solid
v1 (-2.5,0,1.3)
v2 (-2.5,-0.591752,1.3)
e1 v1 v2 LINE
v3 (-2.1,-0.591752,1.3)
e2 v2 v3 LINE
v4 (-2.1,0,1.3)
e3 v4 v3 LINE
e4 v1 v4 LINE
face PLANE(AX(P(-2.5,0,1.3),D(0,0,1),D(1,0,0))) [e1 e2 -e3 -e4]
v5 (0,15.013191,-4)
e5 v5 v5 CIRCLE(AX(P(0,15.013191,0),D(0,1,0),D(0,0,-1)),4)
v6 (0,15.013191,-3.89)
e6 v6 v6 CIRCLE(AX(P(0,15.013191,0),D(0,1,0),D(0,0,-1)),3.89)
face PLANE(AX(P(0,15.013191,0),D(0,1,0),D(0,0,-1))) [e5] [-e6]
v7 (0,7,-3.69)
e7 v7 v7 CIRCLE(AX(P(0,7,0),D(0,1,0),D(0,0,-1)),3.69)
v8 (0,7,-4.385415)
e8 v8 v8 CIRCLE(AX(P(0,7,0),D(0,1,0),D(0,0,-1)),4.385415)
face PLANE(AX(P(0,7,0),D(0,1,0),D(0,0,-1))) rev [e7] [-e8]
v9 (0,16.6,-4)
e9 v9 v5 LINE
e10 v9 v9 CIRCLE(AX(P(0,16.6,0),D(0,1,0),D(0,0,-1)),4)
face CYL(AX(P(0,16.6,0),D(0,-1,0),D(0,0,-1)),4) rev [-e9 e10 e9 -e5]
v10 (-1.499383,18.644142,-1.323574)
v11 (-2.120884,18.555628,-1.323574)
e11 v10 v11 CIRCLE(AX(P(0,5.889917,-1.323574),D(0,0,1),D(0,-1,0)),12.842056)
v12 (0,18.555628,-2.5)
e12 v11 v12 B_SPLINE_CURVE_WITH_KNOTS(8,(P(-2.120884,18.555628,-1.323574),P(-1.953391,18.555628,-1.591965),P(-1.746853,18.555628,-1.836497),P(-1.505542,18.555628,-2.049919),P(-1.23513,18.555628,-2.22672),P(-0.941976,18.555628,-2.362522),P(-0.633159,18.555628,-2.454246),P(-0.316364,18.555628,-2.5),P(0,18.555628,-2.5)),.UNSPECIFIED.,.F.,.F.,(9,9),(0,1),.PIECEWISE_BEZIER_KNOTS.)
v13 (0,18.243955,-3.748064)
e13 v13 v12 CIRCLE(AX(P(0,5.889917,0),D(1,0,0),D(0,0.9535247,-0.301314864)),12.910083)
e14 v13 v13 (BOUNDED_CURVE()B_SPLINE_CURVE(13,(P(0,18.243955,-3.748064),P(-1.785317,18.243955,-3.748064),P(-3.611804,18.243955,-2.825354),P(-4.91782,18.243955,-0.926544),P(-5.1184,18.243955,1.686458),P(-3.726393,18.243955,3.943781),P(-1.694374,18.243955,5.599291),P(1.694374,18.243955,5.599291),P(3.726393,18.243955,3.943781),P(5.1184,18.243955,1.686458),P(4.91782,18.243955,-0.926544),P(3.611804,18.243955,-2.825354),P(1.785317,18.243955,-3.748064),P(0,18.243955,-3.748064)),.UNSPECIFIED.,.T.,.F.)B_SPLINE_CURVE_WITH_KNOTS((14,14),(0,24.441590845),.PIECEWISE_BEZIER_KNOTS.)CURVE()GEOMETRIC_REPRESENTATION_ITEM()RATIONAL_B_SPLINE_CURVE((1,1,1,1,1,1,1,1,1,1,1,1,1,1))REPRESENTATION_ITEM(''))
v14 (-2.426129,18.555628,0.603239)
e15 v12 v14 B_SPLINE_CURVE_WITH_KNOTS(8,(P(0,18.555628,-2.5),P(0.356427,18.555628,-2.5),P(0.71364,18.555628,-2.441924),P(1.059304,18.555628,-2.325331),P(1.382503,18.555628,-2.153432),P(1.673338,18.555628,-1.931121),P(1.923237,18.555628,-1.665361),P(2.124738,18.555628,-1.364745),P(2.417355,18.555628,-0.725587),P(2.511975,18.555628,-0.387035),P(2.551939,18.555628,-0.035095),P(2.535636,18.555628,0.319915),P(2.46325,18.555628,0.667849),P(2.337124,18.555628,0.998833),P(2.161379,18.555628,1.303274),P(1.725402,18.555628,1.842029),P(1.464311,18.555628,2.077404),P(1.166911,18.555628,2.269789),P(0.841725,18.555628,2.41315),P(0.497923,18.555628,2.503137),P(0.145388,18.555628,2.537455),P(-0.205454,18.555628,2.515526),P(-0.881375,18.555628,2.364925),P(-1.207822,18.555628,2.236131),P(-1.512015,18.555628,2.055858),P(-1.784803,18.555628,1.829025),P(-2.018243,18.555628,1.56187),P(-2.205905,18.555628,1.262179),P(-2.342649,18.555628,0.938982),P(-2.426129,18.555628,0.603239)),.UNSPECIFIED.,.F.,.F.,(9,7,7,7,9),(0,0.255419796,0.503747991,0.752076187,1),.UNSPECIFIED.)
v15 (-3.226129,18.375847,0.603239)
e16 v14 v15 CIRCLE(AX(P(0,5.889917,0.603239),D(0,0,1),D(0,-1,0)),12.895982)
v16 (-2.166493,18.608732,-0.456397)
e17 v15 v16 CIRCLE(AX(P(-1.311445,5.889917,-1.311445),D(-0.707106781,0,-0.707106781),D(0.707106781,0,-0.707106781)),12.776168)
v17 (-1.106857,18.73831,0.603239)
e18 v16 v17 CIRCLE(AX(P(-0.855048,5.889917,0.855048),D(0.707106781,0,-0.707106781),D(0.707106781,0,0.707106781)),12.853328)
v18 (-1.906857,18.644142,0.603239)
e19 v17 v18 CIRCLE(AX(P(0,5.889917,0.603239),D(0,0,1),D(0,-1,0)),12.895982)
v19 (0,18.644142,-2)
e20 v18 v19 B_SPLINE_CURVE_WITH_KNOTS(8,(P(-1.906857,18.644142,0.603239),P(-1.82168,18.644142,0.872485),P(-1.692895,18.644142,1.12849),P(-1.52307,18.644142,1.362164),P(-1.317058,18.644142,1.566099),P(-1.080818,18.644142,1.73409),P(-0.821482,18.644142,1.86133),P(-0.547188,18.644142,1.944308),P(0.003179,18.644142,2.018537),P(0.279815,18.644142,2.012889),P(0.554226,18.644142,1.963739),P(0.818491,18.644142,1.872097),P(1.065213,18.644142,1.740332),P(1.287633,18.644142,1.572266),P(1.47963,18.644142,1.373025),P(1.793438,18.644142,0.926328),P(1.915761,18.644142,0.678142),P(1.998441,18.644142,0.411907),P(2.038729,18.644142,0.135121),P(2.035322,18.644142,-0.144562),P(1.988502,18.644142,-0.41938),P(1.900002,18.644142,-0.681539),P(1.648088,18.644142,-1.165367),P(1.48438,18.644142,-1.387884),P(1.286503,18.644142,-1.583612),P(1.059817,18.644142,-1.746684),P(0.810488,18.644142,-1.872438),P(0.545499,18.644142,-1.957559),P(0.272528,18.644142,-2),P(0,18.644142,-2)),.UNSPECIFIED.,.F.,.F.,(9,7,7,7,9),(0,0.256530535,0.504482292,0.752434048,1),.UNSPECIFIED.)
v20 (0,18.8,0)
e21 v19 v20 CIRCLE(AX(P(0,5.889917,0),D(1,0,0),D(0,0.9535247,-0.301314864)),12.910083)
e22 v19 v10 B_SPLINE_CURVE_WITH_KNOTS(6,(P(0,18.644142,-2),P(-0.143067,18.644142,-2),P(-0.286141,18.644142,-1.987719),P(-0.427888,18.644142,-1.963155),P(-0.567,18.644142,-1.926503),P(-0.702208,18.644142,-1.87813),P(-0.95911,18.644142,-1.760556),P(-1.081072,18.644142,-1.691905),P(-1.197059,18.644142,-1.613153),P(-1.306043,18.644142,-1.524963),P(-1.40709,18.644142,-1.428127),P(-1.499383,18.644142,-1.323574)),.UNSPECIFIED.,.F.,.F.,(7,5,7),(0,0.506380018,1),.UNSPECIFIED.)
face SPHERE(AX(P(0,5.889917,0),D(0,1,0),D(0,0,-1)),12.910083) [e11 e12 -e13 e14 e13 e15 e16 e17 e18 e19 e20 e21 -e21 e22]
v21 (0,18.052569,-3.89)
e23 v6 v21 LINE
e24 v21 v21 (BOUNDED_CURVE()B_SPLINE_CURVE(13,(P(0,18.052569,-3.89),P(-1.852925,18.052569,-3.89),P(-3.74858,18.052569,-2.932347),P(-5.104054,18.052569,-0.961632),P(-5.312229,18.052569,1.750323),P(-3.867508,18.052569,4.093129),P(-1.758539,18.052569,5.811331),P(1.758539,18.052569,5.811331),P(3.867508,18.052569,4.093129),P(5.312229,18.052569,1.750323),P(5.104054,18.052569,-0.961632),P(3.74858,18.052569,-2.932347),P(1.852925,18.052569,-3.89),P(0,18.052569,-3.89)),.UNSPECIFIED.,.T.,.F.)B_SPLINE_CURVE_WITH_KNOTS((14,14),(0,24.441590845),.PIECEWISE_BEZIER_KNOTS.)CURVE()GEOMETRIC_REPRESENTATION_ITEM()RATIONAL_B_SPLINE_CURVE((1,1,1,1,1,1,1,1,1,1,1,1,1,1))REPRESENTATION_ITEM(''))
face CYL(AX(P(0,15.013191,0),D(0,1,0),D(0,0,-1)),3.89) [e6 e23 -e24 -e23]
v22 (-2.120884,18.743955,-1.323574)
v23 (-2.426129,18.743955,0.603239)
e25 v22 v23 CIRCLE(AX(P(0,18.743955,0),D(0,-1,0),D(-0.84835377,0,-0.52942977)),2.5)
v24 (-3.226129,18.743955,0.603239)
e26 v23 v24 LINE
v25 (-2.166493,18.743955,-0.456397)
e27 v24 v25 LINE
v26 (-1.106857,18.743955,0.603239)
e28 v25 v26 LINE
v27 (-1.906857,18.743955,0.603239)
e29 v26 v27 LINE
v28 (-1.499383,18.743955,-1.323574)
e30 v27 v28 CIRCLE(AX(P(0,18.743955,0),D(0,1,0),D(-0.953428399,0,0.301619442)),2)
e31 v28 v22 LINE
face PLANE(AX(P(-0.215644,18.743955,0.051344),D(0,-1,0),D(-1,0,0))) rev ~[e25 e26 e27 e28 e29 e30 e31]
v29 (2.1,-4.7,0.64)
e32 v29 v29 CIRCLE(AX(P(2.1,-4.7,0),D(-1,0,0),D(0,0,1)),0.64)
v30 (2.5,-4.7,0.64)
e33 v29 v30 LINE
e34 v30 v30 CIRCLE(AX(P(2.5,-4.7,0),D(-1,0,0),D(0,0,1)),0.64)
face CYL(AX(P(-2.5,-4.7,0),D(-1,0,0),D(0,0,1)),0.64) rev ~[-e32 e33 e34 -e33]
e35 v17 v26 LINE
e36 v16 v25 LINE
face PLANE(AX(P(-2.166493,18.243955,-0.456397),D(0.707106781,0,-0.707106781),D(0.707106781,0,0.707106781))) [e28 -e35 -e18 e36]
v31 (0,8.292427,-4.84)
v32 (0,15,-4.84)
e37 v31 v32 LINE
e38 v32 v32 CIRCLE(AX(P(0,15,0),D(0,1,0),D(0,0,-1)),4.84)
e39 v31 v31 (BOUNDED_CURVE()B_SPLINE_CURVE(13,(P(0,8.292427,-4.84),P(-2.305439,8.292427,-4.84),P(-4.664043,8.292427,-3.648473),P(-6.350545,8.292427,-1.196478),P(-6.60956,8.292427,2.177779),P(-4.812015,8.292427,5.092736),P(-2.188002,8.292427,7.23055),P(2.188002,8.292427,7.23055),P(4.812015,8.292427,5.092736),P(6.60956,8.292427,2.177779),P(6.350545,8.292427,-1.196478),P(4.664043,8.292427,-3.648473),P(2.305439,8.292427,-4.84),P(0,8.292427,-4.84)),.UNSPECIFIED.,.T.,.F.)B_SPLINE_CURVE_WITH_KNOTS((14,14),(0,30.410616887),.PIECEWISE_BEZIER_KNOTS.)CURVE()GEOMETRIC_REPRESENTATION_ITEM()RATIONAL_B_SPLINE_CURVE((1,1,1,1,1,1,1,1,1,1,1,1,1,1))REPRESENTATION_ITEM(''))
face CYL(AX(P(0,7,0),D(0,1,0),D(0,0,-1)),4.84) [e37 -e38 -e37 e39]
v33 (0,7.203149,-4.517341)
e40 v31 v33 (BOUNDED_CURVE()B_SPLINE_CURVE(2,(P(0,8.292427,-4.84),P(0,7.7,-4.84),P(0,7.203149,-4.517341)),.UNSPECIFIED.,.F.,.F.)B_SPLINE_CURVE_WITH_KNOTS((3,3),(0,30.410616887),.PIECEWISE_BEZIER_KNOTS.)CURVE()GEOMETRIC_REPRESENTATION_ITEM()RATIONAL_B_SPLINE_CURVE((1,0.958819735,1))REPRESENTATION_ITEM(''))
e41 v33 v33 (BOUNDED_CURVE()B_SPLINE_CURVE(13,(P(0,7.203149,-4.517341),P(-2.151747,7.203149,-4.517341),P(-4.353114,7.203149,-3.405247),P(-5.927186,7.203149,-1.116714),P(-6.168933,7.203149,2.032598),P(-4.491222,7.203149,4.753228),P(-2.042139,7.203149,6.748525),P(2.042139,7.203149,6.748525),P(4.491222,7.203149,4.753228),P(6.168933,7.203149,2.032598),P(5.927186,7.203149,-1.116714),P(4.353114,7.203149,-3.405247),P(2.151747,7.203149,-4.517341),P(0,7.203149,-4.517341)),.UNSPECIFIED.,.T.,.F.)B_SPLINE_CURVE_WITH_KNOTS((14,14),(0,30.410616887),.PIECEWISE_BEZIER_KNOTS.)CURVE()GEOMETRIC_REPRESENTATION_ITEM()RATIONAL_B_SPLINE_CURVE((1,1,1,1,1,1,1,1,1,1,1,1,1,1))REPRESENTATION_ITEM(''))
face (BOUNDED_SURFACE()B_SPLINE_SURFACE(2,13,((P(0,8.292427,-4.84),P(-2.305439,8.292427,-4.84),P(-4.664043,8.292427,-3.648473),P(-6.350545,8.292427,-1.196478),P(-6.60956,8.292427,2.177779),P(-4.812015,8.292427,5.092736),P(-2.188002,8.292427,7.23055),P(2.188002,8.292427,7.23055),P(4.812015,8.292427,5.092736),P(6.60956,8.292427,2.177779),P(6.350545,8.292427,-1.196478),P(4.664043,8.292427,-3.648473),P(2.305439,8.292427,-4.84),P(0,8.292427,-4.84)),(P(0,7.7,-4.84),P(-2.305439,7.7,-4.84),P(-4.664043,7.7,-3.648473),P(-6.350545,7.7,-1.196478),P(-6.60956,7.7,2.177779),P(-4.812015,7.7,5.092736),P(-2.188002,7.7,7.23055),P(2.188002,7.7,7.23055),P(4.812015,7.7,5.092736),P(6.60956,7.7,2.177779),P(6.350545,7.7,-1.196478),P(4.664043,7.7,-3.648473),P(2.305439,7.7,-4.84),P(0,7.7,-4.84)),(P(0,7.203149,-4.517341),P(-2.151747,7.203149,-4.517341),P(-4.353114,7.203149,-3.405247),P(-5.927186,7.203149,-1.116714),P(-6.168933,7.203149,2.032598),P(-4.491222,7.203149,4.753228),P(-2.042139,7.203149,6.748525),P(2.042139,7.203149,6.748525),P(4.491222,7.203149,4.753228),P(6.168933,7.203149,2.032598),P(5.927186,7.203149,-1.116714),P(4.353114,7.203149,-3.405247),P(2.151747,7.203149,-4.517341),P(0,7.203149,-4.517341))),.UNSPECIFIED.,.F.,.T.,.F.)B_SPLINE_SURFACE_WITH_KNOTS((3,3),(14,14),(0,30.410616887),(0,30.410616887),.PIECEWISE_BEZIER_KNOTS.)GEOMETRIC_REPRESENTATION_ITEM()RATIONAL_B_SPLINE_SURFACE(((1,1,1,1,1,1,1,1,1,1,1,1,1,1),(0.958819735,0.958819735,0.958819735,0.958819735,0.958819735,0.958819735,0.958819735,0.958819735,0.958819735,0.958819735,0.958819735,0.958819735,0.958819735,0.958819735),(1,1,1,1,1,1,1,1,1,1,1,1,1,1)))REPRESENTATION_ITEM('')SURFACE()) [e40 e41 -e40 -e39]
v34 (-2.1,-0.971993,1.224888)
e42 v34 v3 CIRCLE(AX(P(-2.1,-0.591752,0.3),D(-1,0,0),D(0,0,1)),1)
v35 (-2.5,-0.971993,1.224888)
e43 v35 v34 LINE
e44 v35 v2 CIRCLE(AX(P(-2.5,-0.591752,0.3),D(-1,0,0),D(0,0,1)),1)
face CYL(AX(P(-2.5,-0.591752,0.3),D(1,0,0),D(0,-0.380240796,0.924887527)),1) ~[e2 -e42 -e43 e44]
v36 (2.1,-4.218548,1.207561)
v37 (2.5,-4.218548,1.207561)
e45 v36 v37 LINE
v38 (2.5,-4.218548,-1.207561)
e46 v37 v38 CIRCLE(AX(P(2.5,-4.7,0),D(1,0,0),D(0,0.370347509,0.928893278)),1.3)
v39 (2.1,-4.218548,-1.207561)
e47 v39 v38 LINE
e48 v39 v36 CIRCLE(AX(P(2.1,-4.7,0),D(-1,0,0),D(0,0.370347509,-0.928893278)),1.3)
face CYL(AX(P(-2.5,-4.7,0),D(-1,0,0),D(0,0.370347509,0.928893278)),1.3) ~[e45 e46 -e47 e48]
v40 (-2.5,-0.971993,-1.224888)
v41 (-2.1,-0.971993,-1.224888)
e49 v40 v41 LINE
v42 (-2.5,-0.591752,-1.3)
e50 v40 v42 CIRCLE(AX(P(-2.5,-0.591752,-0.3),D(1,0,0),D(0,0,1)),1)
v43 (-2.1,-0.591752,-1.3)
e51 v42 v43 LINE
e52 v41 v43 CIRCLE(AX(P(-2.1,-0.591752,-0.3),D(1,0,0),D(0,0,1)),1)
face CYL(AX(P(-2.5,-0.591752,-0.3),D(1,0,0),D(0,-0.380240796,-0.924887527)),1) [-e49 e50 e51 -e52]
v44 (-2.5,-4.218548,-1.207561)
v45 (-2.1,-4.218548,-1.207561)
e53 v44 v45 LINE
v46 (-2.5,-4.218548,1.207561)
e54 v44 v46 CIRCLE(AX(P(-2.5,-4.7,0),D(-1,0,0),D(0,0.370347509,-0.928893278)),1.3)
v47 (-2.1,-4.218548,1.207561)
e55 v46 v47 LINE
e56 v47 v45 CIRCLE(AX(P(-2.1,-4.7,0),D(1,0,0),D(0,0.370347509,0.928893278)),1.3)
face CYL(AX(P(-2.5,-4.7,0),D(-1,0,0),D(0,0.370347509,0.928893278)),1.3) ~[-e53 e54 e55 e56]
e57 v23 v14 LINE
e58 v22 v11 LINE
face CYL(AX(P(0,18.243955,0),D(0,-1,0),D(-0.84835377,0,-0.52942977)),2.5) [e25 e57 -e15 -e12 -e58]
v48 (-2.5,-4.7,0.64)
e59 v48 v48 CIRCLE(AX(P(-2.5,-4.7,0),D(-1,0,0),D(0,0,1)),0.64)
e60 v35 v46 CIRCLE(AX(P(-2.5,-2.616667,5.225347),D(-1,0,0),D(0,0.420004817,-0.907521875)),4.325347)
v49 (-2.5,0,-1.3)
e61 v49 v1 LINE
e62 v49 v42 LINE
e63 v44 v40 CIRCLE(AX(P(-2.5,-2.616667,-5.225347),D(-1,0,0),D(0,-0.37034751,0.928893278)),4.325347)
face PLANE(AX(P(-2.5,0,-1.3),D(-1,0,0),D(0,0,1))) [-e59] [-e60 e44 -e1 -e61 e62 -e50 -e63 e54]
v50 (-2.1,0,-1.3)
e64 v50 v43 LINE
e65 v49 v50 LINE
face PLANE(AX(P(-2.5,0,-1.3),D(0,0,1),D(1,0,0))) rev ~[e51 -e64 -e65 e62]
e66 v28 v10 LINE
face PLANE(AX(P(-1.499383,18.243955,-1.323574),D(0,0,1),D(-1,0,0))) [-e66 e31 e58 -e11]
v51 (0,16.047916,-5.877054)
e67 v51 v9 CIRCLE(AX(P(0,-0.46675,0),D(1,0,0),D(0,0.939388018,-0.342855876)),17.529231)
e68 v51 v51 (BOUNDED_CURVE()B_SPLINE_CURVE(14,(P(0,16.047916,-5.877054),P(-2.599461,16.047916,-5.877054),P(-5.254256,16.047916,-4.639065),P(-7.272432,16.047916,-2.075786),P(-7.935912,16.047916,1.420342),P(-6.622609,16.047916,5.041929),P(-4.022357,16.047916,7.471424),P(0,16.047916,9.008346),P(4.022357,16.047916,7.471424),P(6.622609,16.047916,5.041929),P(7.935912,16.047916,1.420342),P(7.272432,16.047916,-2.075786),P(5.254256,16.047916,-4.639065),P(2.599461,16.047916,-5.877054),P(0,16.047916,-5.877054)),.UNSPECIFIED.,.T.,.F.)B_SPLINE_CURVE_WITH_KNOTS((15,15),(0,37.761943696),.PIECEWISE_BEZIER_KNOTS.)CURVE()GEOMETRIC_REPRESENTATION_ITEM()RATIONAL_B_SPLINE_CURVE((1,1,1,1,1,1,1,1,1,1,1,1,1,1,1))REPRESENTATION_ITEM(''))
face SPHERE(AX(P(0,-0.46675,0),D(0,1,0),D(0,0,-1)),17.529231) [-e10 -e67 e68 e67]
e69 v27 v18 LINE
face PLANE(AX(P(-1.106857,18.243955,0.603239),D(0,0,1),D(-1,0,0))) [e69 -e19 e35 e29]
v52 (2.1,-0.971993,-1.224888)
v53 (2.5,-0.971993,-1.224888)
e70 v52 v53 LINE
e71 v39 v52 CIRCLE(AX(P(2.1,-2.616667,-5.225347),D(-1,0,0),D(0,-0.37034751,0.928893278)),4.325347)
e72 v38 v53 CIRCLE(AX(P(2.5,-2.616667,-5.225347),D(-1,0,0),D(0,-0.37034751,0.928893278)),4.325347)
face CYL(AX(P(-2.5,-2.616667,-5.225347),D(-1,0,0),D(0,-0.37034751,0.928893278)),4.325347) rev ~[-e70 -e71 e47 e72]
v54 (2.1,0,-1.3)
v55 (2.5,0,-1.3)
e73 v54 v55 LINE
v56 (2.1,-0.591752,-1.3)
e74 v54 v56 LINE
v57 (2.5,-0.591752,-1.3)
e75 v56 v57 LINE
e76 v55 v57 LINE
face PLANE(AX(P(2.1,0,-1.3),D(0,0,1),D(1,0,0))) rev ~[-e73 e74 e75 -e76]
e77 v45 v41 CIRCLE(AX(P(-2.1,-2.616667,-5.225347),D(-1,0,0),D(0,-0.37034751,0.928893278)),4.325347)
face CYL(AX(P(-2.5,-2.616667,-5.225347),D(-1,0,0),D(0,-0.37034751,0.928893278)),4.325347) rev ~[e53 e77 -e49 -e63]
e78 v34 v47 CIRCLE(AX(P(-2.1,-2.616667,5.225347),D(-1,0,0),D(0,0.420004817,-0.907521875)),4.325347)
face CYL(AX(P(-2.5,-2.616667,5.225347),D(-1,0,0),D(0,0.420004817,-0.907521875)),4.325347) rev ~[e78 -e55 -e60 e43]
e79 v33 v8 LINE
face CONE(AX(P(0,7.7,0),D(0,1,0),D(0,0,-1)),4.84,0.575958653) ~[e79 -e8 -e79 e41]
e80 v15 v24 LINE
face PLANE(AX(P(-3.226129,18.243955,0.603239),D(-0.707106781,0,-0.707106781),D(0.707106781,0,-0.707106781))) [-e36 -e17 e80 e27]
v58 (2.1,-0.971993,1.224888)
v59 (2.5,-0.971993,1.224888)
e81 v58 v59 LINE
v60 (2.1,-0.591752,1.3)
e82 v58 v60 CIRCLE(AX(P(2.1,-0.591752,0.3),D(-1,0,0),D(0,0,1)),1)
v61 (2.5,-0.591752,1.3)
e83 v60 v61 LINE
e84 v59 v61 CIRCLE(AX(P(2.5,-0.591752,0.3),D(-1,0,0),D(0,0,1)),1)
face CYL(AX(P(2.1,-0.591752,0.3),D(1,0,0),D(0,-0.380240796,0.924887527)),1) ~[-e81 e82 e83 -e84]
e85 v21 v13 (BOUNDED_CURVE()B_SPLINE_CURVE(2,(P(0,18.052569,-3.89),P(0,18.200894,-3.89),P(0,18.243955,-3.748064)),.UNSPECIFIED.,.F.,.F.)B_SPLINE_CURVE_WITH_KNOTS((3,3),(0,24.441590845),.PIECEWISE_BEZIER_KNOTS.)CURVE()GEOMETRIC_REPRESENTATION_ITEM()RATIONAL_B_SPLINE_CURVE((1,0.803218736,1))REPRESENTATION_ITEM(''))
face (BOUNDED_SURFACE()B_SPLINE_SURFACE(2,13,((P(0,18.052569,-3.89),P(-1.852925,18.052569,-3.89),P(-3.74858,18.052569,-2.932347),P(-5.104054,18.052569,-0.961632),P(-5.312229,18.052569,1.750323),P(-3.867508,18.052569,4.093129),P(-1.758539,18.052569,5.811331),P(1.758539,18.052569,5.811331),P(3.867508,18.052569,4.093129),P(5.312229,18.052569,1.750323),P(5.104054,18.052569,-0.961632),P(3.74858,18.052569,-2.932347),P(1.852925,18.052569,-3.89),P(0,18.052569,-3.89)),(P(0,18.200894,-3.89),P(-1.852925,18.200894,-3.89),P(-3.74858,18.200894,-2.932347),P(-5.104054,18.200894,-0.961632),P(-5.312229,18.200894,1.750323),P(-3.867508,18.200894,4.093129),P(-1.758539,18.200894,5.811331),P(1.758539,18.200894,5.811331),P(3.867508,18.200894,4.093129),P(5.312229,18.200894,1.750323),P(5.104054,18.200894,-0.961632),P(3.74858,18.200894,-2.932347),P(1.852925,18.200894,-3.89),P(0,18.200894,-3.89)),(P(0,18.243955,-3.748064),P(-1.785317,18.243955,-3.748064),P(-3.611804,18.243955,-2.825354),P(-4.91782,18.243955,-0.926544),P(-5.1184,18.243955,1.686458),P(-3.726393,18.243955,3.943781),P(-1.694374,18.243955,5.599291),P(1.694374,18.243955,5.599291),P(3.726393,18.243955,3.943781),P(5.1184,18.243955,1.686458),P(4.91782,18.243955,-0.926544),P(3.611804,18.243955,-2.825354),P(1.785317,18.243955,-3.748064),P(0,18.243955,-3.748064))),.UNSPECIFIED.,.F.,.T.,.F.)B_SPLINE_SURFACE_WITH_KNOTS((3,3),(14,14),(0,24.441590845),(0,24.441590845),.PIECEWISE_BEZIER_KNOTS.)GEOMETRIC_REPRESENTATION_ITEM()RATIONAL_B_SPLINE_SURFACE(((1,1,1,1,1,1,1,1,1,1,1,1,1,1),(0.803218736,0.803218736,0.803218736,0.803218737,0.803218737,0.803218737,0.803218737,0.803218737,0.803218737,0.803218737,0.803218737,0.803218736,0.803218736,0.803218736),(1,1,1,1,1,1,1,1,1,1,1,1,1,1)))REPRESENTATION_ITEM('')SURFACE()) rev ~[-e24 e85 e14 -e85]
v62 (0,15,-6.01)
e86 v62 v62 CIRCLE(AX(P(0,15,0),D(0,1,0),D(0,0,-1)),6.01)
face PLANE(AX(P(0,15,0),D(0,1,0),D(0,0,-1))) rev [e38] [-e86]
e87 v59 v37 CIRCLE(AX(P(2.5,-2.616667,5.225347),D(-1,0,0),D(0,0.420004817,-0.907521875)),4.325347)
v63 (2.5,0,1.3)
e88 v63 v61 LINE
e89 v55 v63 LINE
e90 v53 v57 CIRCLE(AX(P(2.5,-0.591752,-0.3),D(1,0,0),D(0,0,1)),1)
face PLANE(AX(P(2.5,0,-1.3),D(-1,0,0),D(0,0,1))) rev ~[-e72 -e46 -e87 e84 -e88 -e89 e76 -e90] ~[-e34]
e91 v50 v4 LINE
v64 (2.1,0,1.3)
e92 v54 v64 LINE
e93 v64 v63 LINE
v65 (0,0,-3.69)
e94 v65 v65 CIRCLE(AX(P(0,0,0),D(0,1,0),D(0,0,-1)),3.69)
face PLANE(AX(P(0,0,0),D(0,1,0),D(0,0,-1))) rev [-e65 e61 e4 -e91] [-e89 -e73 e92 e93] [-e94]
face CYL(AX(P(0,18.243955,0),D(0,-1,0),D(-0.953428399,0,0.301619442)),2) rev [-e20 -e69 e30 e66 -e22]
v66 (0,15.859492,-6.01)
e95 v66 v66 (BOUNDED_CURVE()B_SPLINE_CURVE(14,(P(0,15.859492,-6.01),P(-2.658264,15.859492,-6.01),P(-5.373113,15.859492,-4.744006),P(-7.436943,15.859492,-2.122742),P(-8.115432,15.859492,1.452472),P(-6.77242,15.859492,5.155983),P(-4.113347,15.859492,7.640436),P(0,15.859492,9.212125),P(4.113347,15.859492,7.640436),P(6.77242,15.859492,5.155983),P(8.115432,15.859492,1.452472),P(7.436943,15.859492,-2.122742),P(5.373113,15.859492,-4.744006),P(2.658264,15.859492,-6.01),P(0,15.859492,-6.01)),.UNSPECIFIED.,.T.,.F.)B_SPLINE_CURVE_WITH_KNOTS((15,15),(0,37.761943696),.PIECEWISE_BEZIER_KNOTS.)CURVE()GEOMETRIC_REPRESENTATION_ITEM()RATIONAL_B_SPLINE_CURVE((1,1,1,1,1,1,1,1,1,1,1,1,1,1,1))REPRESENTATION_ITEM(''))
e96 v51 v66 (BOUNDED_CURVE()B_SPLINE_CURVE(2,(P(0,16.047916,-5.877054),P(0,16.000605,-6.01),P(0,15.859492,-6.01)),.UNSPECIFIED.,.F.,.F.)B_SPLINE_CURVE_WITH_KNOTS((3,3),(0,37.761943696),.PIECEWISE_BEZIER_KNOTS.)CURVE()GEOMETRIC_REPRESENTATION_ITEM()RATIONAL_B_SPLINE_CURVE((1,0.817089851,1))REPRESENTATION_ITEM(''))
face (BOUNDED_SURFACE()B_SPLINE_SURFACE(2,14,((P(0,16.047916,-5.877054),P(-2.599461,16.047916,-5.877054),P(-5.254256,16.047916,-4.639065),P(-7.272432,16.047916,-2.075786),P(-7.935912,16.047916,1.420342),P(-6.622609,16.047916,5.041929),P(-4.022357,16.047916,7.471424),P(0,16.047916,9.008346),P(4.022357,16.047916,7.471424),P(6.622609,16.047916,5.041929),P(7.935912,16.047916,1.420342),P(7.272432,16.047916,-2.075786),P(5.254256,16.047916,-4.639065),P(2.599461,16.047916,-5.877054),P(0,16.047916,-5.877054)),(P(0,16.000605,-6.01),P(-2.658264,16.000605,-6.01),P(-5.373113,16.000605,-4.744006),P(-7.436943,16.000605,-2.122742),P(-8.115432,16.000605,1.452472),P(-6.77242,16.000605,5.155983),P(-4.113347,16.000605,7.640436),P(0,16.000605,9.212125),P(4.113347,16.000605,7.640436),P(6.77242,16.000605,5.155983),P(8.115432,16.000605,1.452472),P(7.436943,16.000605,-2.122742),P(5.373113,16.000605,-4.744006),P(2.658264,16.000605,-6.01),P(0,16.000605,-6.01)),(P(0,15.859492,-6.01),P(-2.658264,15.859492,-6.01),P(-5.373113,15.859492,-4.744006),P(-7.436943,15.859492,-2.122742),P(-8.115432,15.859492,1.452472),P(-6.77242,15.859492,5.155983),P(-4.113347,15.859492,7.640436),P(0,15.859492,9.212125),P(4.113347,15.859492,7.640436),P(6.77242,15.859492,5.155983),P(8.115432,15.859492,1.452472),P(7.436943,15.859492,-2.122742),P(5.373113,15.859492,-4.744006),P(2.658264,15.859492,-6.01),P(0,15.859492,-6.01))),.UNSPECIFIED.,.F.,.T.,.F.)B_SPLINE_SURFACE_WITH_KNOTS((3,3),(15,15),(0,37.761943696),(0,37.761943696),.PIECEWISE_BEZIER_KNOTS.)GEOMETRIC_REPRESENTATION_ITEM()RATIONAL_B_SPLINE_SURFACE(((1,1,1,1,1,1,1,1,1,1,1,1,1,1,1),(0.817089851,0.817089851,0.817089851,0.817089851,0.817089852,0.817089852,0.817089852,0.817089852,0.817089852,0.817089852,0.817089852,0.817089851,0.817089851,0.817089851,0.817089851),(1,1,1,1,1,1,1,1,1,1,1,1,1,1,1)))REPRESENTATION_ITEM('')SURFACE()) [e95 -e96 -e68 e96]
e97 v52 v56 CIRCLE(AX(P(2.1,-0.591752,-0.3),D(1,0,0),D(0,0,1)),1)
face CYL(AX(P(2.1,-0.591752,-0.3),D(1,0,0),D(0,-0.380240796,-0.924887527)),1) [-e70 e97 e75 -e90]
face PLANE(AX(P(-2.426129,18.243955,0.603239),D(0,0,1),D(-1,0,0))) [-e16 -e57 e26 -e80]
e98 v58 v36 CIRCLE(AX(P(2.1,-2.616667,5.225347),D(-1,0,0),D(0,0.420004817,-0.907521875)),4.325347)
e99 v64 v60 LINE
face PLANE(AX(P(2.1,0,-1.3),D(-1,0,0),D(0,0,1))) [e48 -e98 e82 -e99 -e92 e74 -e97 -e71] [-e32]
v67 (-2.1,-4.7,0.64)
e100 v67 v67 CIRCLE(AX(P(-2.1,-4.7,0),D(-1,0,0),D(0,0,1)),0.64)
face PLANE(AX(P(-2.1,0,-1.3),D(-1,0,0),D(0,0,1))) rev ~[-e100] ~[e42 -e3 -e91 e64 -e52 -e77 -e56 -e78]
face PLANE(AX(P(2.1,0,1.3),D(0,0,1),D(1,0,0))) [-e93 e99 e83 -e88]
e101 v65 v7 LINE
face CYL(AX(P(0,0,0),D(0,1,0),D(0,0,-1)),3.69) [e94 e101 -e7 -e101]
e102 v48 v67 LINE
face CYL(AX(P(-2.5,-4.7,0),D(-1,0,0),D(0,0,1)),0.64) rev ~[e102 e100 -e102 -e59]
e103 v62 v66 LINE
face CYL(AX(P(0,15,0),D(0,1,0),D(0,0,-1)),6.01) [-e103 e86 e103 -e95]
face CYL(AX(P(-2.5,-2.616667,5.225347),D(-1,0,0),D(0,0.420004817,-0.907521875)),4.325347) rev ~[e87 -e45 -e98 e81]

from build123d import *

# Parameters (mm, degrees)
CONG_1_R                 = 0.2
CONG_2_R                 = 0.2
CHANFREIN1_SIZE          = 0.7
CHANFREIN1_SIZE2         = 0.454585315
CONG_3_R                 = 2
ESQUISSE2_W              = 0.4
ESQUISSE2_H              = 2.6
BOSS_EXTRU_1_DEPTH       = 6
ESQUISSE3_R              = 0.64
ENL_V_MAT_EXTRU_1_DEPTH  = 6
CONG_4_R                 = 1
RESSALTO_EXTRUS_O1_DEPTH = 0.5


with BuildPart() as part:
    # Esquisse1 → Révolution1 (revolve)
    with BuildSketch(Plane.XY, mode=Mode.PRIVATE) as r_volution1_sk:
        with BuildLine():
            Line((0, 18.8), (0, 0))
            Line((0, 0), (3.69, 0))
            Line((3.69, 0), (3.69, 7))
            Line((3.69, 7), (4.84, 7))
            Line((4.84, 7), (4.84, 15))
            Line((4.84, 15), (6.01, 15))
            Line((6.01, 15), (6.01, 16))
            ThreePointArc((6.01, 16), (5.013982948, 16.330092875), (4, 16.6))
            Line((4, 16.6), (4, 15.013190638))
            Line((4, 15.013190638), (3.89, 15.013190638))
            Line((3.89, 15.013190638), (3.89, 18.2))
            ThreePointArc((3.89, 18.2), (1.968000254, 18.649118314), (0, 18.8))
        make_face()
    revolve(r_volution1_sk.sketch.rotate(Axis((0, 0, 0), (0, 1, 0)), 90), axis=Axis((0, 0, 0), (0, 1, 0)))

    # Congé1
    cong_1_edges = [part.edges().sort_by_distance(p)[0] for p in [
        (0, 18.2, 3.89),
    ]]
    fillet(cong_1_edges, radius=CONG_1_R)

    # Congé2
    cong_2_edges = [part.edges().sort_by_distance(p)[0] for p in [
        (0, 16, 6.01),
    ]]
    fillet(cong_2_edges, radius=CONG_2_R)

    # Chanfrein1
    chanfrein1_edges = [part.edges().sort_by_distance(p)[0] for p in [
        (0, 7, 4.84),
    ]]
    chanfrein1_side = [part.faces().sort_by_distance(p)[0] for p in [
        (0, 11, 4.84),
    ]]
    chamfer(chanfrein1_edges, length=CHANFREIN1_SIZE, length2=CHANFREIN1_SIZE2, reference=chanfrein1_side[0])

    # Congé3
    cong_3_edges = [part.edges().sort_by_distance(p)[0] for p in [
        (0, 7.7, 4.84),
    ]]
    fillet(cong_3_edges, radius=CONG_3_R)

    # Esquisse2 → Boss.-Extru.1 (add)
    with BuildSketch(Plane.XZ):
        with Locations((2.3, 0)):
            Rectangle(ESQUISSE2_W, ESQUISSE2_H)
        with Locations((-2.3, 0)):
            Rectangle(ESQUISSE2_W, ESQUISSE2_H)
    extrude(amount=BOSS_EXTRU_1_DEPTH)

    # Esquisse3 → Enlèv. mat.-Extru.1 (cut)
    with BuildSketch(Plane.ZY.offset(2.5)):
        with Locations((0, -4.7)):
            Circle(ESQUISSE3_R)
        with BuildLine():
            Line((-1.3, -0.8), (-4.192462756, -0.8))
            Line((-4.192462756, -0.8), (-4.192462756, -7.475627282))
            Line((-4.192462756, -7.475627282), (5.572809524, -7.57510374))
            Line((5.572809524, -7.57510374), (5.225347222, -0.8))
            Line((5.225347222, -0.8), (1.3, -0.8))
            ThreePointArc((1.3, -0.8), (0.901580438, -2.499750503), (1.207561262, -4.218548238))
            ThreePointArc((1.207561262, -4.218548238), (0, -6), (-1.207561262, -4.218548238))
            ThreePointArc((-1.207561262, -4.218548238), (-0.901580438, -2.499750503), (-1.3, -0.8))
        make_face()
    extrude(amount=-ENL_V_MAT_EXTRU_1_DEPTH, mode=Mode.SUBTRACT)

    # Congé4
    cong_4_edges = [part.edges().sort_by_distance(p)[0] for p in [
        (-2.3, -0.8, 1.3),
        (-2.3, -0.8, -1.3),
        (2.3, -0.8, -1.3),
        (2.3, -0.8, 1.3),
    ]]
    fillet(cong_4_edges, radius=CONG_4_R)

    # Esboço1 → Ressalto-extrusão1 (add, symmetric)
    with BuildSketch(Plane(origin=(0, 18.243955153, 0), x_dir=(-1, 0, 0), z_dir=(0, -1, 0))):
        with BuildLine():
            Line((1.106856798, -0.603238885), (1.906856798, -0.603238885))
            ThreePointArc((1.906856798, -0.603238885), (-1.956724443, -0.413798809), (1.499383453, 1.323574426))
            Line((1.499383453, 1.323574426), (2.120884424, 1.323574426))
            ThreePointArc((2.120884424, 1.323574426), (-2.469207481, -0.39117057), (2.42612919, -0.603238885))
            Line((2.42612919, -0.603238885), (3.22612919, -0.603238885))
            Line((3.22612919, -0.603238885), (2.166492994, 0.456397311))
            Line((2.166492994, 0.456397311), (1.106856798, -0.603238885))
        make_face()
    extrude(amount=RESSALTO_EXTRUS_O1_DEPTH, both=True)


solid = part.part
